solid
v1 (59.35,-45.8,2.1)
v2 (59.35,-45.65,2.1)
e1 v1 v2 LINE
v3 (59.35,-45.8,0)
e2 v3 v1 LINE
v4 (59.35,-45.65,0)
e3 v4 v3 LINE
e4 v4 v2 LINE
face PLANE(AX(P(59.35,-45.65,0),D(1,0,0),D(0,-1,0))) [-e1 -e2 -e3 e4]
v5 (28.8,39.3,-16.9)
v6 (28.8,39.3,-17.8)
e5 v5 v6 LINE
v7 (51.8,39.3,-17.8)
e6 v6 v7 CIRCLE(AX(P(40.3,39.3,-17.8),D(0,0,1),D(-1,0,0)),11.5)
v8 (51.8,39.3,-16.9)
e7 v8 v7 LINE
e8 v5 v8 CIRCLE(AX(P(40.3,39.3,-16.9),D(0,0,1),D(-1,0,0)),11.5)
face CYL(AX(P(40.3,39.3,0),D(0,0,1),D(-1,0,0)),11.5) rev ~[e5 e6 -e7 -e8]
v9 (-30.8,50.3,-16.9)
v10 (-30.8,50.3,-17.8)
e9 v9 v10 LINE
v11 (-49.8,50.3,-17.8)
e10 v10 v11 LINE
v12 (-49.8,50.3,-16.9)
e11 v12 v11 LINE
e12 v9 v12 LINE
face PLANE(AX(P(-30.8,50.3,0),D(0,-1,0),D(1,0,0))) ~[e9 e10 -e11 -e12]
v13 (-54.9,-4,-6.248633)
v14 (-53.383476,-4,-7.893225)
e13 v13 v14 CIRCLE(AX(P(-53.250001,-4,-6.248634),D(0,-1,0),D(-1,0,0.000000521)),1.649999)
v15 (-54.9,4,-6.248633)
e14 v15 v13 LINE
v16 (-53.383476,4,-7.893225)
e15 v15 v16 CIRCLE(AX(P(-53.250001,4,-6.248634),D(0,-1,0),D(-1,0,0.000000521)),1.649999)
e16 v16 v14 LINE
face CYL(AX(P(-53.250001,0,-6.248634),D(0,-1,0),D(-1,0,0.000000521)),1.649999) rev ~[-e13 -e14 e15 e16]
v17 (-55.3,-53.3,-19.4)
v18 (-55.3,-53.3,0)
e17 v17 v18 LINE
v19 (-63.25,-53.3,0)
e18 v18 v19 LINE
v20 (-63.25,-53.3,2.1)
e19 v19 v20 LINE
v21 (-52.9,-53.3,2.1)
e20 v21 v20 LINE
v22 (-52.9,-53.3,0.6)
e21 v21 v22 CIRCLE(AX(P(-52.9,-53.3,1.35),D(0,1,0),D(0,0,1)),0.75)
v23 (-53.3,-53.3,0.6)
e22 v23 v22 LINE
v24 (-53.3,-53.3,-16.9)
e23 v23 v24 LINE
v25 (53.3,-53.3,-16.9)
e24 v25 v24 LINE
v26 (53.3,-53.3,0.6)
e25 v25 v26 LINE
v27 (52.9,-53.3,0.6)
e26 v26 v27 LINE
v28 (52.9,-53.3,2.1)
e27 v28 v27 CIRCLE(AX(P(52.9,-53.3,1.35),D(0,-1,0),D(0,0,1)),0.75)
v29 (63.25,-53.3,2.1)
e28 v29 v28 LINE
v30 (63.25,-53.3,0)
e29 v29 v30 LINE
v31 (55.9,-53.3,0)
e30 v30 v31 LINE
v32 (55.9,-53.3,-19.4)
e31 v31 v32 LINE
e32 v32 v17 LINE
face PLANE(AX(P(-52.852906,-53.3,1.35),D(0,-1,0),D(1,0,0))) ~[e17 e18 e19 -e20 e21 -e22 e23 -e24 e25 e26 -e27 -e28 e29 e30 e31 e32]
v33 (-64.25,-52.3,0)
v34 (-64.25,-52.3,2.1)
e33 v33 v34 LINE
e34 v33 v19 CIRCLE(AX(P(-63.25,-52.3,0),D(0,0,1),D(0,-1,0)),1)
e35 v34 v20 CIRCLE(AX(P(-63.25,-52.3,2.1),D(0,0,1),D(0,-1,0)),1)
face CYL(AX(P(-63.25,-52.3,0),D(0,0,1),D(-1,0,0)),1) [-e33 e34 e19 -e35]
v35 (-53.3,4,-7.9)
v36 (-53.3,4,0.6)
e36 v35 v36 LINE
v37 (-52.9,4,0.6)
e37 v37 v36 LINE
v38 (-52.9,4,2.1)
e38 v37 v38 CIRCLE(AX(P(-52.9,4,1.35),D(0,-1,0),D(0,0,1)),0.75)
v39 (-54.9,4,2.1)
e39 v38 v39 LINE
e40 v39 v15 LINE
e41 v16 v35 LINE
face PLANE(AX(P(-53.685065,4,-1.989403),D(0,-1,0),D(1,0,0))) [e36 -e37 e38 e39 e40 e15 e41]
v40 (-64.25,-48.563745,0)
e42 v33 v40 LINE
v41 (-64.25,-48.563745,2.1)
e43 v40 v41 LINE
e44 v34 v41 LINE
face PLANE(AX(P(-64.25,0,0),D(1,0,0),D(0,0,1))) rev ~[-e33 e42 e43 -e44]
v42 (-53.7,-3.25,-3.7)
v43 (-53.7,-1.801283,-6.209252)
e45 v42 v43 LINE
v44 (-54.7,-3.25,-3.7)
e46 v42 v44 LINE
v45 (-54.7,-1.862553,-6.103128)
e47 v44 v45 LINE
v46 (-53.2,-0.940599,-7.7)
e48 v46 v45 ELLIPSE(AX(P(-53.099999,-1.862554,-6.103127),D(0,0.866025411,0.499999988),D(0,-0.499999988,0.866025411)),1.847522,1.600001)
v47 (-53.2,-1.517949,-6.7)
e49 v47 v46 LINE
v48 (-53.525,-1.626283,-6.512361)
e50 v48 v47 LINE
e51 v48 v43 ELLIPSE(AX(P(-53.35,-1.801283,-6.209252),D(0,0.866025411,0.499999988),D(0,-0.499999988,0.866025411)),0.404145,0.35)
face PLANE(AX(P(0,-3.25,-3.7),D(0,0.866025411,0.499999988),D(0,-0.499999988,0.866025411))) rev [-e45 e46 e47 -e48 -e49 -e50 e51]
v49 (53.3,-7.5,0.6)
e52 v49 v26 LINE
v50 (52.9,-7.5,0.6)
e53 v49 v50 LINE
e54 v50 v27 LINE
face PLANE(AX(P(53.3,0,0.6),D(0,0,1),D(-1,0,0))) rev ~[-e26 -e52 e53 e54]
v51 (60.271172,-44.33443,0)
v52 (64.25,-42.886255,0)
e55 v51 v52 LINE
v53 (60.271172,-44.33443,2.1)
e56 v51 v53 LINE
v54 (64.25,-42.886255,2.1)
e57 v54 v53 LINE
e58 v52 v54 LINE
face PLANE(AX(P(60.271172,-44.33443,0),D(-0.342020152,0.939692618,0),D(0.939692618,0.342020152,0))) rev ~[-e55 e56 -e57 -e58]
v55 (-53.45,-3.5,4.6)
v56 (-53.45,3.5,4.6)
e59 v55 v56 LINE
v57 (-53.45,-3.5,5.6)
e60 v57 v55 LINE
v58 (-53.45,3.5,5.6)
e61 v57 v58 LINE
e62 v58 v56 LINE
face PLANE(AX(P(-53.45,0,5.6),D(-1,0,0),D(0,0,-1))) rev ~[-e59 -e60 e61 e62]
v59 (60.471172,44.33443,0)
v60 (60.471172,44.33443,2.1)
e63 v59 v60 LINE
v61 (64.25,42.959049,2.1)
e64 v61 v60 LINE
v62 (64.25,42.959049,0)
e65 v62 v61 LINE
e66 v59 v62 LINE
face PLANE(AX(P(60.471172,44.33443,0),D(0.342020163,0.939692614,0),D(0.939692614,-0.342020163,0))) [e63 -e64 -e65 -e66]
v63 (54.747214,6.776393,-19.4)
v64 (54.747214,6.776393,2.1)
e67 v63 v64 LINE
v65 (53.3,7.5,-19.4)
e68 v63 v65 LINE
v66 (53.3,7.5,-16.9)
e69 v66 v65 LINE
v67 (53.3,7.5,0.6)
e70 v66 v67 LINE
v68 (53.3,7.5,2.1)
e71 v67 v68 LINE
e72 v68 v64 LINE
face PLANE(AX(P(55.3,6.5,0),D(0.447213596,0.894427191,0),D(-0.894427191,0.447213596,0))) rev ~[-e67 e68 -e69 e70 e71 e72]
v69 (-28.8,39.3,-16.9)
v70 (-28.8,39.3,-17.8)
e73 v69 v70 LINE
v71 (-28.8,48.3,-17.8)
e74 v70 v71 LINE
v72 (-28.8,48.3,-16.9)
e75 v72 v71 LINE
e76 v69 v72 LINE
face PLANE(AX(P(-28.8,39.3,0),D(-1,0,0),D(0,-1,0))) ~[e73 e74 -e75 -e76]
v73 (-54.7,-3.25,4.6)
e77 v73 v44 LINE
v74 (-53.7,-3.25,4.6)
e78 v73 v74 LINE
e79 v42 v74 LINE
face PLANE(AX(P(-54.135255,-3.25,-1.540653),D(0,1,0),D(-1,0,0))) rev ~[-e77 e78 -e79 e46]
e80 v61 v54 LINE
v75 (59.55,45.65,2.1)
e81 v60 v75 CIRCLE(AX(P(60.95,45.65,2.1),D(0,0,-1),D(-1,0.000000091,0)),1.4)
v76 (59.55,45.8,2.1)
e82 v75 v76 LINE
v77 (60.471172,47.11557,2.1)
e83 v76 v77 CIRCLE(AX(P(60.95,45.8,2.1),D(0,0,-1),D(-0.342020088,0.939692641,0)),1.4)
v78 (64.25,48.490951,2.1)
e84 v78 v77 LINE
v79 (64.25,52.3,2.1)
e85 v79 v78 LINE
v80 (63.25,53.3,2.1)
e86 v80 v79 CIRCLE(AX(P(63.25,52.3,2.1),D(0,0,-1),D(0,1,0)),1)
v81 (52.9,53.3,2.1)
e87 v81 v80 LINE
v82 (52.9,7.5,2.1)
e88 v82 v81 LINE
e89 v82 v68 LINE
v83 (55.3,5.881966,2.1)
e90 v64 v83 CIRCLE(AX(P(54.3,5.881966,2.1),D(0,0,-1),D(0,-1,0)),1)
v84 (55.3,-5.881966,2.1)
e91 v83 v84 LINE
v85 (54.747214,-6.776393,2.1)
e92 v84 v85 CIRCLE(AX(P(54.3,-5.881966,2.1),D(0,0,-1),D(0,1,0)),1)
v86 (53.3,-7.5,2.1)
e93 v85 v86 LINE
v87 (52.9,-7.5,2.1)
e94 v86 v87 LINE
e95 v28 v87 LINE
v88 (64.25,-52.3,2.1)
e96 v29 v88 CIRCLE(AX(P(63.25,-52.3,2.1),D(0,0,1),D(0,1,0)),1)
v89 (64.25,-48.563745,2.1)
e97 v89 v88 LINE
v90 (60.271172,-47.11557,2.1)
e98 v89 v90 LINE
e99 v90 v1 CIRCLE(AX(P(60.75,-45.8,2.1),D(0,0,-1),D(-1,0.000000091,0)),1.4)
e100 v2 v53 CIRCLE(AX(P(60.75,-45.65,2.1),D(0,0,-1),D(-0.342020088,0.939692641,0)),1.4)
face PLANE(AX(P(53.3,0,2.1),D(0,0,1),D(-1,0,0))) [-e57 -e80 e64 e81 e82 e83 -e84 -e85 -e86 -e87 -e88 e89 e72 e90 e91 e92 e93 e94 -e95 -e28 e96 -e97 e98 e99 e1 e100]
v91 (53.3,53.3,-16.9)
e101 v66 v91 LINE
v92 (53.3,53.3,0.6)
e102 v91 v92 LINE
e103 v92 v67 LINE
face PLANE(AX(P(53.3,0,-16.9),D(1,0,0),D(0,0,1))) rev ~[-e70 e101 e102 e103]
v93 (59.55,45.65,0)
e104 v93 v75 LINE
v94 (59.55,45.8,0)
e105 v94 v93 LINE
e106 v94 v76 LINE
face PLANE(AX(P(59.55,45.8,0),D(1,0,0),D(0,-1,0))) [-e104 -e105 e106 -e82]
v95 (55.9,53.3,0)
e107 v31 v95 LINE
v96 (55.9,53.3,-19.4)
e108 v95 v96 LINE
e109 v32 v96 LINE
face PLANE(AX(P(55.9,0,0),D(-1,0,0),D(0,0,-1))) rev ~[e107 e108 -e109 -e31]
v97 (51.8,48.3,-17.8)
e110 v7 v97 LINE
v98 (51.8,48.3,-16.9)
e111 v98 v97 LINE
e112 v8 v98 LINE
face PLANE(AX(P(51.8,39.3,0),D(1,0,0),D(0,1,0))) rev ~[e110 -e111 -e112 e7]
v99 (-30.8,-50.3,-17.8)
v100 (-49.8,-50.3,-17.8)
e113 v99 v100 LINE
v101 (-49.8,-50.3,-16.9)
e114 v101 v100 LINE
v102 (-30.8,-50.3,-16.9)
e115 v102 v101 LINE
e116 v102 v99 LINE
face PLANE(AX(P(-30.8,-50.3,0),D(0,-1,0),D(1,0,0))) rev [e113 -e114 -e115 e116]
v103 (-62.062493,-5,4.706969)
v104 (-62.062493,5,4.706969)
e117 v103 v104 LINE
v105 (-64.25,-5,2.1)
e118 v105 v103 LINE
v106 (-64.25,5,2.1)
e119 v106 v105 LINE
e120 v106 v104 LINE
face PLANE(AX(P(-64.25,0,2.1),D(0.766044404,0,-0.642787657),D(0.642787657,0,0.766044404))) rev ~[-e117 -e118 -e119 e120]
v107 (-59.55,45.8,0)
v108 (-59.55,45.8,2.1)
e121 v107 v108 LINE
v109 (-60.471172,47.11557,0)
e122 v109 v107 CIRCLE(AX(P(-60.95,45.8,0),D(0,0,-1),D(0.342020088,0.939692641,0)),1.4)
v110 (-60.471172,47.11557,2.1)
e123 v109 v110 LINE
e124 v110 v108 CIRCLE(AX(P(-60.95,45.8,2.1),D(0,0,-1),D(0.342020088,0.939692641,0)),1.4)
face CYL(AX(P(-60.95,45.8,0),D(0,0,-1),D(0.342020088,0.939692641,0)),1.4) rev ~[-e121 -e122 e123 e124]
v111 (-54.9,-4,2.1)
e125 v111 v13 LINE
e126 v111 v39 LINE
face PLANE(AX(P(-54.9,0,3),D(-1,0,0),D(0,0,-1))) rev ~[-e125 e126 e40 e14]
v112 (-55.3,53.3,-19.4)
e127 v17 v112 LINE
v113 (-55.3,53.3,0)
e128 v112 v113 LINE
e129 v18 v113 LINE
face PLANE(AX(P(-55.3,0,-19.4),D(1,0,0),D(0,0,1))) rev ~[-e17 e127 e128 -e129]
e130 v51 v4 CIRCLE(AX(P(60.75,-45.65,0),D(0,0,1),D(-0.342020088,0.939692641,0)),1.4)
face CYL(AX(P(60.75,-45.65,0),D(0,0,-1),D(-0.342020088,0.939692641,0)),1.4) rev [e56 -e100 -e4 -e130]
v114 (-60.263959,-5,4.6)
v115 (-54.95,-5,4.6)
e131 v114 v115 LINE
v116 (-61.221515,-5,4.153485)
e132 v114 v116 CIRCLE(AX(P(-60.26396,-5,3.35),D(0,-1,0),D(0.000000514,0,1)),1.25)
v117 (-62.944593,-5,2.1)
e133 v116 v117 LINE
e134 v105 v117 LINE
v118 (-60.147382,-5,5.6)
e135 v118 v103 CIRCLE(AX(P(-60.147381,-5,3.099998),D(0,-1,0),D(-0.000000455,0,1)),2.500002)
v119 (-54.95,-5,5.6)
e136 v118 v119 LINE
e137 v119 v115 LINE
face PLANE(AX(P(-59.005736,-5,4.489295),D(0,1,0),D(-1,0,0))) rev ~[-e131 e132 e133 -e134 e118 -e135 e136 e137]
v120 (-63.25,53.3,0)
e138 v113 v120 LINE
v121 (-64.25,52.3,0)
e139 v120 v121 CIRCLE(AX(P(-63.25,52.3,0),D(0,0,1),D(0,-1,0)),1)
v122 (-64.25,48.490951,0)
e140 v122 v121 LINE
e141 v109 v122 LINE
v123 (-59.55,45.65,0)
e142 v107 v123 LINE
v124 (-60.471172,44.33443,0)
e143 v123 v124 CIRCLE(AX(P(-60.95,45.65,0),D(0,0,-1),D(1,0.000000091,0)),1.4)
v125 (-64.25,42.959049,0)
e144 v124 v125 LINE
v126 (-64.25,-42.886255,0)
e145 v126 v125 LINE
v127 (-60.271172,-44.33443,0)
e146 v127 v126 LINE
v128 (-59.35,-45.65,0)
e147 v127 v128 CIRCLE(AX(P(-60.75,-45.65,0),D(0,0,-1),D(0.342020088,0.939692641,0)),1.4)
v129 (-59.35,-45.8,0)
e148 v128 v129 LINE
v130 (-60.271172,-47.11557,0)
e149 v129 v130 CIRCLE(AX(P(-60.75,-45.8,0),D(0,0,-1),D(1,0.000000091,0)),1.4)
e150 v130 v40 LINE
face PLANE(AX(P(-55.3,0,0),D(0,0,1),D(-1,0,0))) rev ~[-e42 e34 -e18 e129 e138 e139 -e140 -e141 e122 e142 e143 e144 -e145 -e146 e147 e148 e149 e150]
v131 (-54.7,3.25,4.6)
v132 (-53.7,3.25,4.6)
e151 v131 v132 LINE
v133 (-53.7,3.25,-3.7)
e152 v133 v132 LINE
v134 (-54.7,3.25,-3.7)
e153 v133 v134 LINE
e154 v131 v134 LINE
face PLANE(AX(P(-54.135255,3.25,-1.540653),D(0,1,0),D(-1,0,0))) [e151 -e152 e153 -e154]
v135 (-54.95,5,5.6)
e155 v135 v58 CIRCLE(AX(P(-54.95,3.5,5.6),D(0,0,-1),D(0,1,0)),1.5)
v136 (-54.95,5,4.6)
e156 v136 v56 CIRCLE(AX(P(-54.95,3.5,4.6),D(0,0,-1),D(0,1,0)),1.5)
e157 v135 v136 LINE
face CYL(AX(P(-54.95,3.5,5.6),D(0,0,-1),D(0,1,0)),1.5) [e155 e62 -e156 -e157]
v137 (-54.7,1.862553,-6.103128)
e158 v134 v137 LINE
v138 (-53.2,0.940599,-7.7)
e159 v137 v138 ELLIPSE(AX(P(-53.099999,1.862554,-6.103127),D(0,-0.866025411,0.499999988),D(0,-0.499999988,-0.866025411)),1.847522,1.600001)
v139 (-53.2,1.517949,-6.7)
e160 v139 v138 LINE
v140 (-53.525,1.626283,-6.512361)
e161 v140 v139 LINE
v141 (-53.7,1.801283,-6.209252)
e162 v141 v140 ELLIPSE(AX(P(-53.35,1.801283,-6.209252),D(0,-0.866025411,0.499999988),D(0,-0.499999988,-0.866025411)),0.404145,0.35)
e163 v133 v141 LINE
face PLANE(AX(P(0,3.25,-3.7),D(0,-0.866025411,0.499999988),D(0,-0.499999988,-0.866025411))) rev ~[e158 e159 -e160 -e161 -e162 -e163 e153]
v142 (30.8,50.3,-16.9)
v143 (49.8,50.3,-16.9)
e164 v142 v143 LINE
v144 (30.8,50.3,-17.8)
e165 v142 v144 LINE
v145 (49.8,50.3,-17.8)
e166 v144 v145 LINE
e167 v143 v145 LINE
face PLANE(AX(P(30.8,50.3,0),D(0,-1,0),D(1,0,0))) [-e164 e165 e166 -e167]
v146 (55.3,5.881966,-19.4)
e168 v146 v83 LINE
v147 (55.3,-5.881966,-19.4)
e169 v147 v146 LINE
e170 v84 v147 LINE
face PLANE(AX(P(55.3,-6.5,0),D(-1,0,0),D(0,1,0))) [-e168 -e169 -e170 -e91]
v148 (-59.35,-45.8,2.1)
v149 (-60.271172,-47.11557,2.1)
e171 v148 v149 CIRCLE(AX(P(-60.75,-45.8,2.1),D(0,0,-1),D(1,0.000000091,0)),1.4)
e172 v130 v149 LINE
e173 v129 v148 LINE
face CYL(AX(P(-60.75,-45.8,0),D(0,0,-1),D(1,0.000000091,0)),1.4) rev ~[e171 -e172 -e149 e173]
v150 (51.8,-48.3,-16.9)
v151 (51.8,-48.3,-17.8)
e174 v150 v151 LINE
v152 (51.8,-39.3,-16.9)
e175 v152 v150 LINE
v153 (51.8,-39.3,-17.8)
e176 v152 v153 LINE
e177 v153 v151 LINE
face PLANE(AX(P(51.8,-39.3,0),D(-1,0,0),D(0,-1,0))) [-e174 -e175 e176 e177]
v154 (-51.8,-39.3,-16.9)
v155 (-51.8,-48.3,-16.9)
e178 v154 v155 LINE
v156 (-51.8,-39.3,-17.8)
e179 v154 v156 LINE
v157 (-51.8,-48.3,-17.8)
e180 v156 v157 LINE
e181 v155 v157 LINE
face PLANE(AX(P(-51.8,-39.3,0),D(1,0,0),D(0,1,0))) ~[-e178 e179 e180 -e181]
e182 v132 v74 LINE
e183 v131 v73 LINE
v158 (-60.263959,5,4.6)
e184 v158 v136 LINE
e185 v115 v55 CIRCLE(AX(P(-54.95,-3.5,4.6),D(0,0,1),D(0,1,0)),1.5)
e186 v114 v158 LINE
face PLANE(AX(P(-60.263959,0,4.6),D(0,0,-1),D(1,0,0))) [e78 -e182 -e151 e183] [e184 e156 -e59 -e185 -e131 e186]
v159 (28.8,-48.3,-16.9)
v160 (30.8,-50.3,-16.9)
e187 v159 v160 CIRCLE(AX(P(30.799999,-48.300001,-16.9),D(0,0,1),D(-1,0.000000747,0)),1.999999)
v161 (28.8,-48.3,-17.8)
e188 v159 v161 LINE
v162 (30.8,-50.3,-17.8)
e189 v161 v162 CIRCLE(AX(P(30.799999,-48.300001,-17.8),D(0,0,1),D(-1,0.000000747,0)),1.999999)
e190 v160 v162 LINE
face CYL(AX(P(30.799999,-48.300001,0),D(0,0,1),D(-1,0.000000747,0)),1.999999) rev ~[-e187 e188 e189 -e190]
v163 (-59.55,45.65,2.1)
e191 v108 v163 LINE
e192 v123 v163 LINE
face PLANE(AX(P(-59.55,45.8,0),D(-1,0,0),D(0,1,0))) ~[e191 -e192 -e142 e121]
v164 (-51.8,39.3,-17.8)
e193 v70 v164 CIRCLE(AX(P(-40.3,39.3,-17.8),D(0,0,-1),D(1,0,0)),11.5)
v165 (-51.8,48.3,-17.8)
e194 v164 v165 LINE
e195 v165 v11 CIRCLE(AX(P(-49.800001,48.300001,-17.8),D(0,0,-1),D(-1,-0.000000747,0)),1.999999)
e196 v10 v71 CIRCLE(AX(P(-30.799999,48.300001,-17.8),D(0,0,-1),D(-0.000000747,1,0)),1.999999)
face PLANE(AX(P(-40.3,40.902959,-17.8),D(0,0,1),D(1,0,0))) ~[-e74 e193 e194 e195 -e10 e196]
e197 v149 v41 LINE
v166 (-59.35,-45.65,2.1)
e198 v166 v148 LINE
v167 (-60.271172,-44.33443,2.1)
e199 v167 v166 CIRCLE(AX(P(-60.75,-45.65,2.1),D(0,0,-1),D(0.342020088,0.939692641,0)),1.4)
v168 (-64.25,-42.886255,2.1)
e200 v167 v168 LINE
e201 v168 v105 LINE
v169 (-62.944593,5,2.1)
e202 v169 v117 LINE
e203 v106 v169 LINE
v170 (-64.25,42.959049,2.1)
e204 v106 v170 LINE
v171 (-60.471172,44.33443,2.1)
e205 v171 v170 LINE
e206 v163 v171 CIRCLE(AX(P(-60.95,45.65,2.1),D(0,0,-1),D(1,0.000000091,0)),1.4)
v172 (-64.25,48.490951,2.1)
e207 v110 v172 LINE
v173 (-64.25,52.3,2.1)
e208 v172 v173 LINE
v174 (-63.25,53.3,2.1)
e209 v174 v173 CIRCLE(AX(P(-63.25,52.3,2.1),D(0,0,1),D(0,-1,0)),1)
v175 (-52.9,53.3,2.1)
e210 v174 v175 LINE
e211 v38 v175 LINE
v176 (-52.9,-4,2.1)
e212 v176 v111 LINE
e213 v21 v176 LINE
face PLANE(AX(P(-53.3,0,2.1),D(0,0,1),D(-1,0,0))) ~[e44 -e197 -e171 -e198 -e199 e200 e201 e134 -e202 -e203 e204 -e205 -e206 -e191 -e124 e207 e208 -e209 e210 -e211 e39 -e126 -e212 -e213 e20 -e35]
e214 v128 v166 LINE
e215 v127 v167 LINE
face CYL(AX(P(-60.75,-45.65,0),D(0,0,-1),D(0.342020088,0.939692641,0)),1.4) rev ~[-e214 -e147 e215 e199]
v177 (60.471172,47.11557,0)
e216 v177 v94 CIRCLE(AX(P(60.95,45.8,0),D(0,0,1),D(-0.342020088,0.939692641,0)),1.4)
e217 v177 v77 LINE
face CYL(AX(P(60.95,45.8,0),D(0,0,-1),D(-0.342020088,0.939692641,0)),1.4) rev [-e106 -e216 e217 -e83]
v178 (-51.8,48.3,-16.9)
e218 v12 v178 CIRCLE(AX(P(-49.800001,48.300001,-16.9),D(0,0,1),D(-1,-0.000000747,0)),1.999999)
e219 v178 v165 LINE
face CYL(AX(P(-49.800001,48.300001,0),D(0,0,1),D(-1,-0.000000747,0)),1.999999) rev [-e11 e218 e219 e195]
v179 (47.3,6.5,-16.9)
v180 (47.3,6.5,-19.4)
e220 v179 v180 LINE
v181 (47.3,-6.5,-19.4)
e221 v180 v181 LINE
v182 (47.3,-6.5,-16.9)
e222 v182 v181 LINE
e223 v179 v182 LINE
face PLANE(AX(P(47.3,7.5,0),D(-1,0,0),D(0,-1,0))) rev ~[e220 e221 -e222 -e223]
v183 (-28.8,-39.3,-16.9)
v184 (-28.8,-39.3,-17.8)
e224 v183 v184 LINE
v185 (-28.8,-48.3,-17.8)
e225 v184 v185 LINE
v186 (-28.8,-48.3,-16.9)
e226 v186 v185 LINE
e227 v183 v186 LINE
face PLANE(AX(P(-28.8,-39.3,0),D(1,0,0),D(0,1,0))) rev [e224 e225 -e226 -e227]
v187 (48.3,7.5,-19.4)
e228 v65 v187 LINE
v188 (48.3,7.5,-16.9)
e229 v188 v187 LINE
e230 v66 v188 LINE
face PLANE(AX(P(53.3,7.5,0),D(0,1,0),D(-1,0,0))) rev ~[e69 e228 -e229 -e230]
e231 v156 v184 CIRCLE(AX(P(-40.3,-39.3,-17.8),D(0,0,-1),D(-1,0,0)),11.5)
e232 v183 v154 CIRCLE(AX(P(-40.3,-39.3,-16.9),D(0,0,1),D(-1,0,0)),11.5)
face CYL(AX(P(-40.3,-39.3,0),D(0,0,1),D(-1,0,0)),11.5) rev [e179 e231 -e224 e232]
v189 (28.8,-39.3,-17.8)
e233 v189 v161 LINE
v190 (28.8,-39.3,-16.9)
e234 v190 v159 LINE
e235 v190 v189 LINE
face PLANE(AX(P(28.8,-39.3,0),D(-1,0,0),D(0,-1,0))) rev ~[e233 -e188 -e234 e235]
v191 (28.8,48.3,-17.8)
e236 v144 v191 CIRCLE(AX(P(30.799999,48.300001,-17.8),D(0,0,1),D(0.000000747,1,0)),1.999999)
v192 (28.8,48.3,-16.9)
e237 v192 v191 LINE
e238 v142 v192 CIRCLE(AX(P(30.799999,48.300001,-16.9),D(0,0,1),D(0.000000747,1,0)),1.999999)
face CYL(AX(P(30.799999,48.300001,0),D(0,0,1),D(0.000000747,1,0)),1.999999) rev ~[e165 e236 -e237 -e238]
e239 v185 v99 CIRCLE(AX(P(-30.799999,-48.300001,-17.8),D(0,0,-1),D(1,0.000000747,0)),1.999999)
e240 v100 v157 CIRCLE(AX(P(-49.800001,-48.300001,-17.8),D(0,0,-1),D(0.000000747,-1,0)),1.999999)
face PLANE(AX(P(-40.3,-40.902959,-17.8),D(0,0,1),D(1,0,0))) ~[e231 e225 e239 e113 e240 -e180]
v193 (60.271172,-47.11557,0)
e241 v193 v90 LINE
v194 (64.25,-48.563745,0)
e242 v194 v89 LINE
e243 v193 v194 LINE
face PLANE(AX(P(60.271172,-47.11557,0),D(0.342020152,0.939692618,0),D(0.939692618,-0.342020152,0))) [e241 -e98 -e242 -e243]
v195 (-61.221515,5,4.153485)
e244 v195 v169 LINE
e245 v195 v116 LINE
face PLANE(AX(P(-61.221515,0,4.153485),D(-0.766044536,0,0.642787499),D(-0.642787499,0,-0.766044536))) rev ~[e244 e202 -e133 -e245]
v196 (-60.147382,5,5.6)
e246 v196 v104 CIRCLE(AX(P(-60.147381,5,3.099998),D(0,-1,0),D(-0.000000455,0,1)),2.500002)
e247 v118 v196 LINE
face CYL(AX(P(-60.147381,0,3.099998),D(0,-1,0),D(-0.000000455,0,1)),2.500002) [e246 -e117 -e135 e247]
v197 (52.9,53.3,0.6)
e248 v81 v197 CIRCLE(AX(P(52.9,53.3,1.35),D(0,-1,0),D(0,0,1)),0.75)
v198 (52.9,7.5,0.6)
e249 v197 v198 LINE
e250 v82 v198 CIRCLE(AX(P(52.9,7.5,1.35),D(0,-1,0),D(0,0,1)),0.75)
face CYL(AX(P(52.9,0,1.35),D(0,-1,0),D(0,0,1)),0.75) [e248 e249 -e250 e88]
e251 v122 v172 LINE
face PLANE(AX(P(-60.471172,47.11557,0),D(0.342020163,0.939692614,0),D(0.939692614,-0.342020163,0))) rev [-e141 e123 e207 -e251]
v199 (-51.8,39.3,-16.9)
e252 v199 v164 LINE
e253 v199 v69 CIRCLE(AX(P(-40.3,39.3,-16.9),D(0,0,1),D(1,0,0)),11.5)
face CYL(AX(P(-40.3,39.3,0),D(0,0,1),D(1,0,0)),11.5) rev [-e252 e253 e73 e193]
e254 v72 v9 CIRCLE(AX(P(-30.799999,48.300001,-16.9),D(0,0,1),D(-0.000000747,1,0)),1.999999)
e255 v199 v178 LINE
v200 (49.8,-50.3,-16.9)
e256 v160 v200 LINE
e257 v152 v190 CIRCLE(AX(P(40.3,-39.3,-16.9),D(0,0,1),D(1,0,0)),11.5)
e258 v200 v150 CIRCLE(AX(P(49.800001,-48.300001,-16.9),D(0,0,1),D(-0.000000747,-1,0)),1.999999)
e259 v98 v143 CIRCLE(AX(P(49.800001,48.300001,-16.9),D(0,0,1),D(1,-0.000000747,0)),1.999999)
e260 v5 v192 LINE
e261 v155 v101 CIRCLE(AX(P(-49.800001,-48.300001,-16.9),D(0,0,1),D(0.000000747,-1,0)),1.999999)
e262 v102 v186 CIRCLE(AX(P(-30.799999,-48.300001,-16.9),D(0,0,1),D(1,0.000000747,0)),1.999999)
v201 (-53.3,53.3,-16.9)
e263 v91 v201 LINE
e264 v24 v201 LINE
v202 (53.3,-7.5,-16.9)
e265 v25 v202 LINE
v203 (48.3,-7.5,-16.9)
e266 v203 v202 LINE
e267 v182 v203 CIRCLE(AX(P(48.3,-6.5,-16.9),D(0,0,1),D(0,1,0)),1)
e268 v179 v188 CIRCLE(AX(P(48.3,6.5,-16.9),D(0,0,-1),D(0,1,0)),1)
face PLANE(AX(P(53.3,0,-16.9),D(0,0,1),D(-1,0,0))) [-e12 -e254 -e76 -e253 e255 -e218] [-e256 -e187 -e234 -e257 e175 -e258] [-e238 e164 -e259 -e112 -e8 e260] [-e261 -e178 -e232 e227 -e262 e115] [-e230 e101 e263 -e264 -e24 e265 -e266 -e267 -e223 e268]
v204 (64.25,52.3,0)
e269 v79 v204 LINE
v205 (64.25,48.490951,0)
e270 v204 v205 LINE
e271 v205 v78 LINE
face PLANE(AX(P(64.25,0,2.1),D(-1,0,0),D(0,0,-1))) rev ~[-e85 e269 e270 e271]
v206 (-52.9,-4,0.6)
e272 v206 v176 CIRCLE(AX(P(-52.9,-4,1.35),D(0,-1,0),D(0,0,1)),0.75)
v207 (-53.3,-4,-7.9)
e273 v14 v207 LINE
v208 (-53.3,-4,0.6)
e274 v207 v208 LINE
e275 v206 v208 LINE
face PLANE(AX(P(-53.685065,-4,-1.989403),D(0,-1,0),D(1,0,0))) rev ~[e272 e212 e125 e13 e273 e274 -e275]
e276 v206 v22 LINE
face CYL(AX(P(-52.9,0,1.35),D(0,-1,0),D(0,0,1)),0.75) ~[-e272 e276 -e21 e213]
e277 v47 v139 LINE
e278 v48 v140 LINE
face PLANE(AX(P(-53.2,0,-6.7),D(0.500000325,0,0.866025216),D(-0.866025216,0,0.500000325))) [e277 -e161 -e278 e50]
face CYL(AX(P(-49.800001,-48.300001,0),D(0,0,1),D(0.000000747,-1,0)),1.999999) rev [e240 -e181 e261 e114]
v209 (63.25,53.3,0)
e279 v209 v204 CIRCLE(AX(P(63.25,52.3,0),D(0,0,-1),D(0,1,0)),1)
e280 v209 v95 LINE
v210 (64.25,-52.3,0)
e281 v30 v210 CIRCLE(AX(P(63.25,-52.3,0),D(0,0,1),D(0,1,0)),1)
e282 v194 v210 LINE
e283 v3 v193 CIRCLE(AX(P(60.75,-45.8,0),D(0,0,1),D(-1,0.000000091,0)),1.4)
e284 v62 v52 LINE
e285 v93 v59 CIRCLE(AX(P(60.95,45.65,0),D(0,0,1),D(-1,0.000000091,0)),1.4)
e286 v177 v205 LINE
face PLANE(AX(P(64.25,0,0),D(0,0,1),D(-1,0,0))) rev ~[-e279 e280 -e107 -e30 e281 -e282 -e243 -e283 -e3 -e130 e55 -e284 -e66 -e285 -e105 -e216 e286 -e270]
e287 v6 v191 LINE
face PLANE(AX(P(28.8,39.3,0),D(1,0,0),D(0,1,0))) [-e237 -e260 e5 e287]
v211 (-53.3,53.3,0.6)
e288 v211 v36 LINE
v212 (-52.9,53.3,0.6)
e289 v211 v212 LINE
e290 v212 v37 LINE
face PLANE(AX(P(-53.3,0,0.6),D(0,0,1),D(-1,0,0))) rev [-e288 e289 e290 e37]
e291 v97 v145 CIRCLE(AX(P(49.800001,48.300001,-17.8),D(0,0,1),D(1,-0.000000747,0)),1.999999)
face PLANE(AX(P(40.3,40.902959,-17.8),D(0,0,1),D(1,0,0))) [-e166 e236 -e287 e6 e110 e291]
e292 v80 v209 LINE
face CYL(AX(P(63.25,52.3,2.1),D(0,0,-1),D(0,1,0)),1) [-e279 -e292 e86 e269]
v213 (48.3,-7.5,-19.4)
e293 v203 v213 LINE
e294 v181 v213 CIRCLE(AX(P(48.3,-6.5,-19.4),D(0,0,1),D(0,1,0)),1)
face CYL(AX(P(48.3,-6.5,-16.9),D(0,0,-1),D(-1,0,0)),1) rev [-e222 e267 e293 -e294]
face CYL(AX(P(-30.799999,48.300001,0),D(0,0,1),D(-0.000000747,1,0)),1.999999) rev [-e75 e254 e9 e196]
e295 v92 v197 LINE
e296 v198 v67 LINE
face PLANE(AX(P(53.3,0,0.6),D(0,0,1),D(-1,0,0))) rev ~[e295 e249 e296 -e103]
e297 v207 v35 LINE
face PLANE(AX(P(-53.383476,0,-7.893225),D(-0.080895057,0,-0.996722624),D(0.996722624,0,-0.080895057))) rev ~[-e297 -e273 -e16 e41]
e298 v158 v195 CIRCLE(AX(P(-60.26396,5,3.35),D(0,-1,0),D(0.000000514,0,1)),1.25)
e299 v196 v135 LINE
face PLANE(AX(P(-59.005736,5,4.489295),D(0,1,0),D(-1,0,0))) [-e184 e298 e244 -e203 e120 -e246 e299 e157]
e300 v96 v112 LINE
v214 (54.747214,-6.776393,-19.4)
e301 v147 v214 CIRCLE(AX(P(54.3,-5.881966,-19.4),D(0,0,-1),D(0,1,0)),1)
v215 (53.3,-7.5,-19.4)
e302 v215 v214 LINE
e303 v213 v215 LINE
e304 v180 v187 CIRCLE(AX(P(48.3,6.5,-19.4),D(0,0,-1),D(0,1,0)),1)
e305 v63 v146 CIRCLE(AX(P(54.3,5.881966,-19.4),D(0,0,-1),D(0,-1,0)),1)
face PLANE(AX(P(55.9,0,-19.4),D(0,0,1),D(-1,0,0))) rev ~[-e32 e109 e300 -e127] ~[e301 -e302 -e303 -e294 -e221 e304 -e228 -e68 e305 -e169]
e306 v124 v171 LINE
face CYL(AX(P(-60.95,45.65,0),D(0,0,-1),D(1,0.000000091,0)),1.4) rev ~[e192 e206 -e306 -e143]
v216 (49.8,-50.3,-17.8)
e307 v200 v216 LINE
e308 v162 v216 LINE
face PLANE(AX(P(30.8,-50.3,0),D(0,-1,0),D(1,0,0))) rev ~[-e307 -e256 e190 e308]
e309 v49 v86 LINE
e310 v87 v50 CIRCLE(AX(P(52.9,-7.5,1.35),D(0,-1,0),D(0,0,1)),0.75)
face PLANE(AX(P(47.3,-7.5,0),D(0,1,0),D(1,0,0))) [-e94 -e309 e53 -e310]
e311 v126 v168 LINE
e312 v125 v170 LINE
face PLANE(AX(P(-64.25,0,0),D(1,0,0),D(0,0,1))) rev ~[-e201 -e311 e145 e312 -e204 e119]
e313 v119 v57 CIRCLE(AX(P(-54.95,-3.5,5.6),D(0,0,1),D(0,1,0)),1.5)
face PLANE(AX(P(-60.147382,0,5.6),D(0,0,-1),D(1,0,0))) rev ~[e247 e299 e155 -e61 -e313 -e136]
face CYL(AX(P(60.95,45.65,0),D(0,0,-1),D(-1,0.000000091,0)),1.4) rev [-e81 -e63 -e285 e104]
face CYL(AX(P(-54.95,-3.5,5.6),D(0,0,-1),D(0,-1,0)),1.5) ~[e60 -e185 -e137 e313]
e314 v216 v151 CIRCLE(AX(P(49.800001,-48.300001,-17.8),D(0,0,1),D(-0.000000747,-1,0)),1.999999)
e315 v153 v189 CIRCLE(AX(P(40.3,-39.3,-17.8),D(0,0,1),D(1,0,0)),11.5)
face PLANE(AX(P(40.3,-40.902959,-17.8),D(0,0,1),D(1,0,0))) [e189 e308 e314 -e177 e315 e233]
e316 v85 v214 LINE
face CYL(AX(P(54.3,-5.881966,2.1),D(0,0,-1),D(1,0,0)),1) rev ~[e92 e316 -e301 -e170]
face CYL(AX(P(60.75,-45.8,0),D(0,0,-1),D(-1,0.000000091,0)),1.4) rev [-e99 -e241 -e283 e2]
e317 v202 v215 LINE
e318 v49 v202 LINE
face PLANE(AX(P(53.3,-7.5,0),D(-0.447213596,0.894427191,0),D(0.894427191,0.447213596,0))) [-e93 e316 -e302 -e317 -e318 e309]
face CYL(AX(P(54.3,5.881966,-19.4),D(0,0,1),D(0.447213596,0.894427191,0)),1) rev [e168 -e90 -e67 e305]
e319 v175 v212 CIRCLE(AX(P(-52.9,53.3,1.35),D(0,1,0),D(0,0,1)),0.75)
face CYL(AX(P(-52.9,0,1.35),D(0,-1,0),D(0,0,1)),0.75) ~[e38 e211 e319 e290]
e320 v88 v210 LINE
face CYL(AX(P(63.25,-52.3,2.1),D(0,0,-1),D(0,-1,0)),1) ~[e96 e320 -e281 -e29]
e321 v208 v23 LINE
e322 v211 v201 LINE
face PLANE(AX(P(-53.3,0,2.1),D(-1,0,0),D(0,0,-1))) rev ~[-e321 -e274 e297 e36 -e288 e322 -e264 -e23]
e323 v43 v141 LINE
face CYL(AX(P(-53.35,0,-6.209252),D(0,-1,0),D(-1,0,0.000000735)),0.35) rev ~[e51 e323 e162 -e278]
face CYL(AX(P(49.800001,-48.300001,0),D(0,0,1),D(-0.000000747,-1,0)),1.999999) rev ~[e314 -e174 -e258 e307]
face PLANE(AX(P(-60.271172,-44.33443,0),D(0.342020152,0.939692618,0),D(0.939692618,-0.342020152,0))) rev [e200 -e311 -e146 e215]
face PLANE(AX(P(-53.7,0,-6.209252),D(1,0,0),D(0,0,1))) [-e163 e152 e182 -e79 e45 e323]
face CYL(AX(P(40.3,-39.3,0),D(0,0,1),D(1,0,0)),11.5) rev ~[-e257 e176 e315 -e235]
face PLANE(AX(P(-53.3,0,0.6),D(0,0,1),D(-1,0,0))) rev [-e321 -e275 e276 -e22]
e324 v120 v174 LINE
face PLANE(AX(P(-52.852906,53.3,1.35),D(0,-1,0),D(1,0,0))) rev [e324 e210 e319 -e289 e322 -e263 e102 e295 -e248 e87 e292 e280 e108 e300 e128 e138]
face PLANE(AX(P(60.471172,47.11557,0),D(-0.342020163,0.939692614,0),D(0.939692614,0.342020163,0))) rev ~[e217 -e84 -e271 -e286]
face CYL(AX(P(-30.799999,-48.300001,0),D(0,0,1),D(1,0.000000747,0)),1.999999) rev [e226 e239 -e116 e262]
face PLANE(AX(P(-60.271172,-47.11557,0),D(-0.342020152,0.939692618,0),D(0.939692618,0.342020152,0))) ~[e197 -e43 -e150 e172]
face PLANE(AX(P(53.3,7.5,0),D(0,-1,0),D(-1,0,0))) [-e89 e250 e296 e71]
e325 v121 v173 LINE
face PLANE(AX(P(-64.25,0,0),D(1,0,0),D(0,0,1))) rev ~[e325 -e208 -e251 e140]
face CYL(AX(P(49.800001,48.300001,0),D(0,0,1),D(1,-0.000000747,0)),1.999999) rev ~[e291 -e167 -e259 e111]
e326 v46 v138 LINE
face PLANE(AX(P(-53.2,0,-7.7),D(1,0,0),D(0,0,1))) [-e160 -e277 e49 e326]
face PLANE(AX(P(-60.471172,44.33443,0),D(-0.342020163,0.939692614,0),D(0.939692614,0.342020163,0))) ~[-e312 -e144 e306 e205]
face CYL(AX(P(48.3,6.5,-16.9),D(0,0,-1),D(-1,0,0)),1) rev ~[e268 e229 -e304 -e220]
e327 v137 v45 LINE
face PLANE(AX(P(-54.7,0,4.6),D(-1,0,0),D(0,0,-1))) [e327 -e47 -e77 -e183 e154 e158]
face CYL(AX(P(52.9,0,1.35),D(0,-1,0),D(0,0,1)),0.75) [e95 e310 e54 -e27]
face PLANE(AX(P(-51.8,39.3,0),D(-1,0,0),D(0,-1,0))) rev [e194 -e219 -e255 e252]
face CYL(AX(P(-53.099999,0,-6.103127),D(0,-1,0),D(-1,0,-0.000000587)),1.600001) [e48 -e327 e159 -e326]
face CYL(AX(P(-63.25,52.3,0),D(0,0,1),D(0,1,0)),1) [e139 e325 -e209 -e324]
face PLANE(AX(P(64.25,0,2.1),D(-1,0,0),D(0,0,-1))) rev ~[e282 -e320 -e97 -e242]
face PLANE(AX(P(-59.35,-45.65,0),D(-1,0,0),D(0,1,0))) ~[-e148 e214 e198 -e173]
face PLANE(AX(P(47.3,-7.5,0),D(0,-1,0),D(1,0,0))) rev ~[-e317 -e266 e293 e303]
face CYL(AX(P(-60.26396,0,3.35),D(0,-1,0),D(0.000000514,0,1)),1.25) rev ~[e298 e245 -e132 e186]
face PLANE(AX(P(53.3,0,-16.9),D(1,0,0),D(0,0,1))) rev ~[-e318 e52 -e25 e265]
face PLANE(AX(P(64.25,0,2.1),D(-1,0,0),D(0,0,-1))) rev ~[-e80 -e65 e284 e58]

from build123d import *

# Parameters (mm, degrees)
PAD003_DEPTH         = 5
PAD_DEPTH            = 3.25
POCKET012_DEPTH      = 54.7
FILLET_R             = 1.5
PAD001_DEPTH         = 53.3
PAD002_DEPTH         = 53.3
POCKET_DEPTH         = 17.8
POCKET001_DEPTH      = 5
POCKET005_DEPTH      = 19.401
POCKET005_DEPTH_BACK = -2.101
POCKET011_DEPTH      = 4
FILLET001_R          = 1
FILLET002_R          = 1


with BuildPart() as body:
    # Sketch025 → Pad003 (new body, symmetric)
    with BuildSketch(Plane.XZ):
        with BuildLine():
            Line((-64.25, 2.1), (-62.062493, 4.706969))
            ThreePointArc((-60.147382, 5.6), (-61.203928, 5.365769), (-62.062493, 4.706969))
            Line((-60.147382, 5.6), (-53.45, 5.6))
            Line((-53.45, 5.6), (-53.45, 4.6))
            Line((-53.45, 4.6), (-53.7, 4.6))
            Line((-54.7, 4.6), (-53.7, 4.6))
            Line((-54.7, 4.6), (-60.263959, 4.6))
            ThreePointArc((-60.263959, 4.6), (-60.792232, 4.482885), (-61.221515, 4.153485))
            Line((-61.221515, 4.153485), (-62.944593, 2.1))
            Line((-64.25, 2.1), (-62.944593, 2.1))
        make_face()
    extrude(amount=PAD003_DEPTH, both=True)

    # Sketch028 → Pad (join, symmetric)
    with BuildSketch(Plane.XZ):
        with BuildLine():
            Line((-53.7, 3.1), (-53.7, -6.209252))
            ThreePointArc((-53.7, -6.209252), (-53.653109, -6.384252), (-53.525, -6.512361))
            Line((-53.2, -6.7), (-53.525, -6.512361))
            Line((-53.2, -7.7), (-53.2, -6.7))
            ThreePointArc((-54.7, -6.103128), (-54.26619, -7.198573), (-53.2, -7.7))
            Line((-54.7, 3.1), (-54.7, -6.103128))
            Line((-54.7, 3.1), (-54.7, 4.6))
            Line((-54.7, 4.6), (-53.7, 4.6))
            Line((-53.7, 3.1), (-53.7, 4.6))
        make_face()
    extrude(amount=PAD_DEPTH, both=True)

    # Sketch027 → Pocket012 (cut)
    with BuildSketch(Plane.YZ):
        Polygon((3.25, -3.7), (0.940599, -7.7), (3.25, -7.7), align=None)
    pocket012 = extrude(amount=-POCKET012_DEPTH, mode=Mode.SUBTRACT)

    # Mirrored001: Pocket012 across Sketch027 V_Axis
    add(pocket012.mirror(Plane(origin=(0, 0, 0), x_dir=(1, 0, 0), z_dir=(0, 1, 0))), mode=Mode.SUBTRACT)

    # Fillet
    fillet_edges = [body.edges().sort_by_distance(p)[0] for p in [
        (-53.45, -5, 5.1),
        (-53.45, 5, 5.1),
    ]]
    fillet(fillet_edges, radius=FILLET_R)


with BuildPart() as eurorack_case:
    # Sketch001 → Pad001 (new body, symmetric)
    with BuildSketch(Plane.XZ):
        Polygon((64.25, 0), (55.9, 0), (55.9, -19.4), (-55.3, -19.4), (-55.3, 0), (-64.25, 0), (-64.25, 2.1), (-53.3, 2.1), (-53.3, -16.9), (0, -16.9), (53.3, -16.9), (53.3, 2.1), (64.25, 2.1), align=None)
    extrude(amount=PAD001_DEPTH, both=True)

    # Sketch002 → Pad002 (join, symmetric)
    with BuildSketch(Plane.XZ):
        with BuildLine():
            ThreePointArc((52.9, 2.1), (52.15, 1.35), (52.9, 0.6))
            Line((53.3, 0.6), (52.9, 0.6))
            Line((53.3, 2.1), (53.3, 0.6))
            Line((53.3, 2.1), (52.9, 2.1))
        make_face()
    pad002 = extrude(amount=PAD002_DEPTH, both=True)

    # Sketch003 → Pocket (cut)
    with BuildSketch(Plane.XY):
        with BuildLine():
            ThreePointArc((28.8, 39.3), (40.3, 27.8), (51.8, 39.3))
            Line((51.8, 39.3), (51.8, 48.3))
            ThreePointArc((51.8, 48.3), (51.214214, 49.714214), (49.8, 50.3))
            Line((30.8, 50.3), (49.8, 50.3))
            ThreePointArc((30.8, 50.3), (29.385786, 49.714214), (28.8, 48.3))
            Line((28.8, 39.3), (28.8, 48.3))
        make_face()
        with BuildLine():
            ThreePointArc((51.8, -39.3), (40.3, -27.8), (28.8, -39.3))
            Line((28.8, -39.3), (28.8, -48.3))
            ThreePointArc((28.8, -48.3), (29.385786, -49.714214), (30.8, -50.3))
            Line((30.8, -50.3), (49.8, -50.3))
            ThreePointArc((49.8, -50.3), (51.214214, -49.714214), (51.8, -48.3))
            Line((51.8, -39.3), (51.8, -48.3))
        make_face()
    pocket = extrude(amount=-POCKET_DEPTH, mode=Mode.SUBTRACT)

    # Sketch004 → Pocket001 (cut)
    with BuildSketch(Plane.XY):
        with BuildLine():
            ThreePointArc((59.35, -45.8), (59.603187, -46.603007), (60.271172, -47.11557))
            Line((60.271172, -47.11557), (64.25, -48.563745))
            Line((64.25, -42.886255), (64.25, -48.563745))
            Line((60.271172, -44.33443), (64.25, -42.886255))
            ThreePointArc((60.271172, -44.33443), (59.603187, -44.846993), (59.35, -45.65))
            Line((59.35, -45.65), (59.35, -45.8))
        make_face()
        with BuildLine():
            ThreePointArc((60.471172, 47.11557), (59.803187, 46.603007), (59.55, 45.8))
            Line((59.55, 45.8), (59.55, 45.65))
            ThreePointArc((59.55, 45.65), (59.803187, 44.846993), (60.471172, 44.33443))
            Line((60.471172, 44.33443), (64.25, 42.959049))
            Line((64.25, 48.490951), (64.25, 42.959049))
            Line((60.471172, 47.11557), (64.25, 48.490951))
        make_face()
    pocket001 = extrude(amount=POCKET001_DEPTH, mode=Mode.SUBTRACT)

    # Mirrored: Pad002, Pocket, Pocket001 across Sketch002 V_Axis
    add(pad002.mirror(Plane(origin=(0, 0, 0), x_dir=(0, -1, 0), z_dir=(1, 0, 0))))
    add(pocket.mirror(Plane(origin=(0, 0, 0), x_dir=(0, -1, 0), z_dir=(1, 0, 0))), mode=Mode.SUBTRACT)
    add(pocket001.mirror(Plane(origin=(0, 0, 0), x_dir=(0, -1, 0), z_dir=(1, 0, 0))), mode=Mode.SUBTRACT)

    # Sketch011 → Pocket005 (cut, two sides)
    with BuildSketch(Plane.XY) as pocket005_sk:
        Polygon((47.3, 7.5), (47.3, -7.5), (53.3, -7.5), (55.3, -6.5), (55.3, 6.5), (53.3, 7.5), align=None)
    extrude(amount=-POCKET005_DEPTH, mode=Mode.SUBTRACT)
    extrude(pocket005_sk.sketch, amount=-POCKET005_DEPTH_BACK, mode=Mode.SUBTRACT)

    # Sketch024 → Pocket011 (cut, symmetric)
    with BuildSketch(Plane.XZ):
        with BuildLine():
            Line((-54.9, 3), (-54.9, -6.248633))
            ThreePointArc((-54.9, -6.248633), (-54.463, -7.367173), (-53.383476, -7.893225))
            Line((-53.383476, -7.893225), (-53.3, -7.9))
            Line((-51.9, 3), (-53.3, -7.9))
            Line((-54.9, 3), (-51.9, 3))
        make_face()
    extrude(amount=POCKET011_DEPTH, both=True, mode=Mode.SUBTRACT)

    # Boolean: union Body
    add(body.part)

    # Fillet001
    fillet001_edges = [eurorack_case.edges().sort_by_distance(p)[0] for p in [
        (-64.25, -53.3, 1.05),
        (64.25, -53.3, 1.05),
        (64.25, 53.3, 1.05),
        (-64.25, 53.3, 1.05),
    ]]
    fillet(fillet001_edges, radius=FILLET001_R)

    # Fillet002
    fillet002_edges = [eurorack_case.edges().sort_by_distance(p)[0] for p in [
        (55.3, 6.5, -8.65),
        (55.3, -6.5, -8.65),
        (47.3, 7.5, -18.15),
        (47.3, -7.5, -18.15),
    ]]
    fillet(fillet002_edges, radius=FILLET002_R)


solid = eurorack_case.part
